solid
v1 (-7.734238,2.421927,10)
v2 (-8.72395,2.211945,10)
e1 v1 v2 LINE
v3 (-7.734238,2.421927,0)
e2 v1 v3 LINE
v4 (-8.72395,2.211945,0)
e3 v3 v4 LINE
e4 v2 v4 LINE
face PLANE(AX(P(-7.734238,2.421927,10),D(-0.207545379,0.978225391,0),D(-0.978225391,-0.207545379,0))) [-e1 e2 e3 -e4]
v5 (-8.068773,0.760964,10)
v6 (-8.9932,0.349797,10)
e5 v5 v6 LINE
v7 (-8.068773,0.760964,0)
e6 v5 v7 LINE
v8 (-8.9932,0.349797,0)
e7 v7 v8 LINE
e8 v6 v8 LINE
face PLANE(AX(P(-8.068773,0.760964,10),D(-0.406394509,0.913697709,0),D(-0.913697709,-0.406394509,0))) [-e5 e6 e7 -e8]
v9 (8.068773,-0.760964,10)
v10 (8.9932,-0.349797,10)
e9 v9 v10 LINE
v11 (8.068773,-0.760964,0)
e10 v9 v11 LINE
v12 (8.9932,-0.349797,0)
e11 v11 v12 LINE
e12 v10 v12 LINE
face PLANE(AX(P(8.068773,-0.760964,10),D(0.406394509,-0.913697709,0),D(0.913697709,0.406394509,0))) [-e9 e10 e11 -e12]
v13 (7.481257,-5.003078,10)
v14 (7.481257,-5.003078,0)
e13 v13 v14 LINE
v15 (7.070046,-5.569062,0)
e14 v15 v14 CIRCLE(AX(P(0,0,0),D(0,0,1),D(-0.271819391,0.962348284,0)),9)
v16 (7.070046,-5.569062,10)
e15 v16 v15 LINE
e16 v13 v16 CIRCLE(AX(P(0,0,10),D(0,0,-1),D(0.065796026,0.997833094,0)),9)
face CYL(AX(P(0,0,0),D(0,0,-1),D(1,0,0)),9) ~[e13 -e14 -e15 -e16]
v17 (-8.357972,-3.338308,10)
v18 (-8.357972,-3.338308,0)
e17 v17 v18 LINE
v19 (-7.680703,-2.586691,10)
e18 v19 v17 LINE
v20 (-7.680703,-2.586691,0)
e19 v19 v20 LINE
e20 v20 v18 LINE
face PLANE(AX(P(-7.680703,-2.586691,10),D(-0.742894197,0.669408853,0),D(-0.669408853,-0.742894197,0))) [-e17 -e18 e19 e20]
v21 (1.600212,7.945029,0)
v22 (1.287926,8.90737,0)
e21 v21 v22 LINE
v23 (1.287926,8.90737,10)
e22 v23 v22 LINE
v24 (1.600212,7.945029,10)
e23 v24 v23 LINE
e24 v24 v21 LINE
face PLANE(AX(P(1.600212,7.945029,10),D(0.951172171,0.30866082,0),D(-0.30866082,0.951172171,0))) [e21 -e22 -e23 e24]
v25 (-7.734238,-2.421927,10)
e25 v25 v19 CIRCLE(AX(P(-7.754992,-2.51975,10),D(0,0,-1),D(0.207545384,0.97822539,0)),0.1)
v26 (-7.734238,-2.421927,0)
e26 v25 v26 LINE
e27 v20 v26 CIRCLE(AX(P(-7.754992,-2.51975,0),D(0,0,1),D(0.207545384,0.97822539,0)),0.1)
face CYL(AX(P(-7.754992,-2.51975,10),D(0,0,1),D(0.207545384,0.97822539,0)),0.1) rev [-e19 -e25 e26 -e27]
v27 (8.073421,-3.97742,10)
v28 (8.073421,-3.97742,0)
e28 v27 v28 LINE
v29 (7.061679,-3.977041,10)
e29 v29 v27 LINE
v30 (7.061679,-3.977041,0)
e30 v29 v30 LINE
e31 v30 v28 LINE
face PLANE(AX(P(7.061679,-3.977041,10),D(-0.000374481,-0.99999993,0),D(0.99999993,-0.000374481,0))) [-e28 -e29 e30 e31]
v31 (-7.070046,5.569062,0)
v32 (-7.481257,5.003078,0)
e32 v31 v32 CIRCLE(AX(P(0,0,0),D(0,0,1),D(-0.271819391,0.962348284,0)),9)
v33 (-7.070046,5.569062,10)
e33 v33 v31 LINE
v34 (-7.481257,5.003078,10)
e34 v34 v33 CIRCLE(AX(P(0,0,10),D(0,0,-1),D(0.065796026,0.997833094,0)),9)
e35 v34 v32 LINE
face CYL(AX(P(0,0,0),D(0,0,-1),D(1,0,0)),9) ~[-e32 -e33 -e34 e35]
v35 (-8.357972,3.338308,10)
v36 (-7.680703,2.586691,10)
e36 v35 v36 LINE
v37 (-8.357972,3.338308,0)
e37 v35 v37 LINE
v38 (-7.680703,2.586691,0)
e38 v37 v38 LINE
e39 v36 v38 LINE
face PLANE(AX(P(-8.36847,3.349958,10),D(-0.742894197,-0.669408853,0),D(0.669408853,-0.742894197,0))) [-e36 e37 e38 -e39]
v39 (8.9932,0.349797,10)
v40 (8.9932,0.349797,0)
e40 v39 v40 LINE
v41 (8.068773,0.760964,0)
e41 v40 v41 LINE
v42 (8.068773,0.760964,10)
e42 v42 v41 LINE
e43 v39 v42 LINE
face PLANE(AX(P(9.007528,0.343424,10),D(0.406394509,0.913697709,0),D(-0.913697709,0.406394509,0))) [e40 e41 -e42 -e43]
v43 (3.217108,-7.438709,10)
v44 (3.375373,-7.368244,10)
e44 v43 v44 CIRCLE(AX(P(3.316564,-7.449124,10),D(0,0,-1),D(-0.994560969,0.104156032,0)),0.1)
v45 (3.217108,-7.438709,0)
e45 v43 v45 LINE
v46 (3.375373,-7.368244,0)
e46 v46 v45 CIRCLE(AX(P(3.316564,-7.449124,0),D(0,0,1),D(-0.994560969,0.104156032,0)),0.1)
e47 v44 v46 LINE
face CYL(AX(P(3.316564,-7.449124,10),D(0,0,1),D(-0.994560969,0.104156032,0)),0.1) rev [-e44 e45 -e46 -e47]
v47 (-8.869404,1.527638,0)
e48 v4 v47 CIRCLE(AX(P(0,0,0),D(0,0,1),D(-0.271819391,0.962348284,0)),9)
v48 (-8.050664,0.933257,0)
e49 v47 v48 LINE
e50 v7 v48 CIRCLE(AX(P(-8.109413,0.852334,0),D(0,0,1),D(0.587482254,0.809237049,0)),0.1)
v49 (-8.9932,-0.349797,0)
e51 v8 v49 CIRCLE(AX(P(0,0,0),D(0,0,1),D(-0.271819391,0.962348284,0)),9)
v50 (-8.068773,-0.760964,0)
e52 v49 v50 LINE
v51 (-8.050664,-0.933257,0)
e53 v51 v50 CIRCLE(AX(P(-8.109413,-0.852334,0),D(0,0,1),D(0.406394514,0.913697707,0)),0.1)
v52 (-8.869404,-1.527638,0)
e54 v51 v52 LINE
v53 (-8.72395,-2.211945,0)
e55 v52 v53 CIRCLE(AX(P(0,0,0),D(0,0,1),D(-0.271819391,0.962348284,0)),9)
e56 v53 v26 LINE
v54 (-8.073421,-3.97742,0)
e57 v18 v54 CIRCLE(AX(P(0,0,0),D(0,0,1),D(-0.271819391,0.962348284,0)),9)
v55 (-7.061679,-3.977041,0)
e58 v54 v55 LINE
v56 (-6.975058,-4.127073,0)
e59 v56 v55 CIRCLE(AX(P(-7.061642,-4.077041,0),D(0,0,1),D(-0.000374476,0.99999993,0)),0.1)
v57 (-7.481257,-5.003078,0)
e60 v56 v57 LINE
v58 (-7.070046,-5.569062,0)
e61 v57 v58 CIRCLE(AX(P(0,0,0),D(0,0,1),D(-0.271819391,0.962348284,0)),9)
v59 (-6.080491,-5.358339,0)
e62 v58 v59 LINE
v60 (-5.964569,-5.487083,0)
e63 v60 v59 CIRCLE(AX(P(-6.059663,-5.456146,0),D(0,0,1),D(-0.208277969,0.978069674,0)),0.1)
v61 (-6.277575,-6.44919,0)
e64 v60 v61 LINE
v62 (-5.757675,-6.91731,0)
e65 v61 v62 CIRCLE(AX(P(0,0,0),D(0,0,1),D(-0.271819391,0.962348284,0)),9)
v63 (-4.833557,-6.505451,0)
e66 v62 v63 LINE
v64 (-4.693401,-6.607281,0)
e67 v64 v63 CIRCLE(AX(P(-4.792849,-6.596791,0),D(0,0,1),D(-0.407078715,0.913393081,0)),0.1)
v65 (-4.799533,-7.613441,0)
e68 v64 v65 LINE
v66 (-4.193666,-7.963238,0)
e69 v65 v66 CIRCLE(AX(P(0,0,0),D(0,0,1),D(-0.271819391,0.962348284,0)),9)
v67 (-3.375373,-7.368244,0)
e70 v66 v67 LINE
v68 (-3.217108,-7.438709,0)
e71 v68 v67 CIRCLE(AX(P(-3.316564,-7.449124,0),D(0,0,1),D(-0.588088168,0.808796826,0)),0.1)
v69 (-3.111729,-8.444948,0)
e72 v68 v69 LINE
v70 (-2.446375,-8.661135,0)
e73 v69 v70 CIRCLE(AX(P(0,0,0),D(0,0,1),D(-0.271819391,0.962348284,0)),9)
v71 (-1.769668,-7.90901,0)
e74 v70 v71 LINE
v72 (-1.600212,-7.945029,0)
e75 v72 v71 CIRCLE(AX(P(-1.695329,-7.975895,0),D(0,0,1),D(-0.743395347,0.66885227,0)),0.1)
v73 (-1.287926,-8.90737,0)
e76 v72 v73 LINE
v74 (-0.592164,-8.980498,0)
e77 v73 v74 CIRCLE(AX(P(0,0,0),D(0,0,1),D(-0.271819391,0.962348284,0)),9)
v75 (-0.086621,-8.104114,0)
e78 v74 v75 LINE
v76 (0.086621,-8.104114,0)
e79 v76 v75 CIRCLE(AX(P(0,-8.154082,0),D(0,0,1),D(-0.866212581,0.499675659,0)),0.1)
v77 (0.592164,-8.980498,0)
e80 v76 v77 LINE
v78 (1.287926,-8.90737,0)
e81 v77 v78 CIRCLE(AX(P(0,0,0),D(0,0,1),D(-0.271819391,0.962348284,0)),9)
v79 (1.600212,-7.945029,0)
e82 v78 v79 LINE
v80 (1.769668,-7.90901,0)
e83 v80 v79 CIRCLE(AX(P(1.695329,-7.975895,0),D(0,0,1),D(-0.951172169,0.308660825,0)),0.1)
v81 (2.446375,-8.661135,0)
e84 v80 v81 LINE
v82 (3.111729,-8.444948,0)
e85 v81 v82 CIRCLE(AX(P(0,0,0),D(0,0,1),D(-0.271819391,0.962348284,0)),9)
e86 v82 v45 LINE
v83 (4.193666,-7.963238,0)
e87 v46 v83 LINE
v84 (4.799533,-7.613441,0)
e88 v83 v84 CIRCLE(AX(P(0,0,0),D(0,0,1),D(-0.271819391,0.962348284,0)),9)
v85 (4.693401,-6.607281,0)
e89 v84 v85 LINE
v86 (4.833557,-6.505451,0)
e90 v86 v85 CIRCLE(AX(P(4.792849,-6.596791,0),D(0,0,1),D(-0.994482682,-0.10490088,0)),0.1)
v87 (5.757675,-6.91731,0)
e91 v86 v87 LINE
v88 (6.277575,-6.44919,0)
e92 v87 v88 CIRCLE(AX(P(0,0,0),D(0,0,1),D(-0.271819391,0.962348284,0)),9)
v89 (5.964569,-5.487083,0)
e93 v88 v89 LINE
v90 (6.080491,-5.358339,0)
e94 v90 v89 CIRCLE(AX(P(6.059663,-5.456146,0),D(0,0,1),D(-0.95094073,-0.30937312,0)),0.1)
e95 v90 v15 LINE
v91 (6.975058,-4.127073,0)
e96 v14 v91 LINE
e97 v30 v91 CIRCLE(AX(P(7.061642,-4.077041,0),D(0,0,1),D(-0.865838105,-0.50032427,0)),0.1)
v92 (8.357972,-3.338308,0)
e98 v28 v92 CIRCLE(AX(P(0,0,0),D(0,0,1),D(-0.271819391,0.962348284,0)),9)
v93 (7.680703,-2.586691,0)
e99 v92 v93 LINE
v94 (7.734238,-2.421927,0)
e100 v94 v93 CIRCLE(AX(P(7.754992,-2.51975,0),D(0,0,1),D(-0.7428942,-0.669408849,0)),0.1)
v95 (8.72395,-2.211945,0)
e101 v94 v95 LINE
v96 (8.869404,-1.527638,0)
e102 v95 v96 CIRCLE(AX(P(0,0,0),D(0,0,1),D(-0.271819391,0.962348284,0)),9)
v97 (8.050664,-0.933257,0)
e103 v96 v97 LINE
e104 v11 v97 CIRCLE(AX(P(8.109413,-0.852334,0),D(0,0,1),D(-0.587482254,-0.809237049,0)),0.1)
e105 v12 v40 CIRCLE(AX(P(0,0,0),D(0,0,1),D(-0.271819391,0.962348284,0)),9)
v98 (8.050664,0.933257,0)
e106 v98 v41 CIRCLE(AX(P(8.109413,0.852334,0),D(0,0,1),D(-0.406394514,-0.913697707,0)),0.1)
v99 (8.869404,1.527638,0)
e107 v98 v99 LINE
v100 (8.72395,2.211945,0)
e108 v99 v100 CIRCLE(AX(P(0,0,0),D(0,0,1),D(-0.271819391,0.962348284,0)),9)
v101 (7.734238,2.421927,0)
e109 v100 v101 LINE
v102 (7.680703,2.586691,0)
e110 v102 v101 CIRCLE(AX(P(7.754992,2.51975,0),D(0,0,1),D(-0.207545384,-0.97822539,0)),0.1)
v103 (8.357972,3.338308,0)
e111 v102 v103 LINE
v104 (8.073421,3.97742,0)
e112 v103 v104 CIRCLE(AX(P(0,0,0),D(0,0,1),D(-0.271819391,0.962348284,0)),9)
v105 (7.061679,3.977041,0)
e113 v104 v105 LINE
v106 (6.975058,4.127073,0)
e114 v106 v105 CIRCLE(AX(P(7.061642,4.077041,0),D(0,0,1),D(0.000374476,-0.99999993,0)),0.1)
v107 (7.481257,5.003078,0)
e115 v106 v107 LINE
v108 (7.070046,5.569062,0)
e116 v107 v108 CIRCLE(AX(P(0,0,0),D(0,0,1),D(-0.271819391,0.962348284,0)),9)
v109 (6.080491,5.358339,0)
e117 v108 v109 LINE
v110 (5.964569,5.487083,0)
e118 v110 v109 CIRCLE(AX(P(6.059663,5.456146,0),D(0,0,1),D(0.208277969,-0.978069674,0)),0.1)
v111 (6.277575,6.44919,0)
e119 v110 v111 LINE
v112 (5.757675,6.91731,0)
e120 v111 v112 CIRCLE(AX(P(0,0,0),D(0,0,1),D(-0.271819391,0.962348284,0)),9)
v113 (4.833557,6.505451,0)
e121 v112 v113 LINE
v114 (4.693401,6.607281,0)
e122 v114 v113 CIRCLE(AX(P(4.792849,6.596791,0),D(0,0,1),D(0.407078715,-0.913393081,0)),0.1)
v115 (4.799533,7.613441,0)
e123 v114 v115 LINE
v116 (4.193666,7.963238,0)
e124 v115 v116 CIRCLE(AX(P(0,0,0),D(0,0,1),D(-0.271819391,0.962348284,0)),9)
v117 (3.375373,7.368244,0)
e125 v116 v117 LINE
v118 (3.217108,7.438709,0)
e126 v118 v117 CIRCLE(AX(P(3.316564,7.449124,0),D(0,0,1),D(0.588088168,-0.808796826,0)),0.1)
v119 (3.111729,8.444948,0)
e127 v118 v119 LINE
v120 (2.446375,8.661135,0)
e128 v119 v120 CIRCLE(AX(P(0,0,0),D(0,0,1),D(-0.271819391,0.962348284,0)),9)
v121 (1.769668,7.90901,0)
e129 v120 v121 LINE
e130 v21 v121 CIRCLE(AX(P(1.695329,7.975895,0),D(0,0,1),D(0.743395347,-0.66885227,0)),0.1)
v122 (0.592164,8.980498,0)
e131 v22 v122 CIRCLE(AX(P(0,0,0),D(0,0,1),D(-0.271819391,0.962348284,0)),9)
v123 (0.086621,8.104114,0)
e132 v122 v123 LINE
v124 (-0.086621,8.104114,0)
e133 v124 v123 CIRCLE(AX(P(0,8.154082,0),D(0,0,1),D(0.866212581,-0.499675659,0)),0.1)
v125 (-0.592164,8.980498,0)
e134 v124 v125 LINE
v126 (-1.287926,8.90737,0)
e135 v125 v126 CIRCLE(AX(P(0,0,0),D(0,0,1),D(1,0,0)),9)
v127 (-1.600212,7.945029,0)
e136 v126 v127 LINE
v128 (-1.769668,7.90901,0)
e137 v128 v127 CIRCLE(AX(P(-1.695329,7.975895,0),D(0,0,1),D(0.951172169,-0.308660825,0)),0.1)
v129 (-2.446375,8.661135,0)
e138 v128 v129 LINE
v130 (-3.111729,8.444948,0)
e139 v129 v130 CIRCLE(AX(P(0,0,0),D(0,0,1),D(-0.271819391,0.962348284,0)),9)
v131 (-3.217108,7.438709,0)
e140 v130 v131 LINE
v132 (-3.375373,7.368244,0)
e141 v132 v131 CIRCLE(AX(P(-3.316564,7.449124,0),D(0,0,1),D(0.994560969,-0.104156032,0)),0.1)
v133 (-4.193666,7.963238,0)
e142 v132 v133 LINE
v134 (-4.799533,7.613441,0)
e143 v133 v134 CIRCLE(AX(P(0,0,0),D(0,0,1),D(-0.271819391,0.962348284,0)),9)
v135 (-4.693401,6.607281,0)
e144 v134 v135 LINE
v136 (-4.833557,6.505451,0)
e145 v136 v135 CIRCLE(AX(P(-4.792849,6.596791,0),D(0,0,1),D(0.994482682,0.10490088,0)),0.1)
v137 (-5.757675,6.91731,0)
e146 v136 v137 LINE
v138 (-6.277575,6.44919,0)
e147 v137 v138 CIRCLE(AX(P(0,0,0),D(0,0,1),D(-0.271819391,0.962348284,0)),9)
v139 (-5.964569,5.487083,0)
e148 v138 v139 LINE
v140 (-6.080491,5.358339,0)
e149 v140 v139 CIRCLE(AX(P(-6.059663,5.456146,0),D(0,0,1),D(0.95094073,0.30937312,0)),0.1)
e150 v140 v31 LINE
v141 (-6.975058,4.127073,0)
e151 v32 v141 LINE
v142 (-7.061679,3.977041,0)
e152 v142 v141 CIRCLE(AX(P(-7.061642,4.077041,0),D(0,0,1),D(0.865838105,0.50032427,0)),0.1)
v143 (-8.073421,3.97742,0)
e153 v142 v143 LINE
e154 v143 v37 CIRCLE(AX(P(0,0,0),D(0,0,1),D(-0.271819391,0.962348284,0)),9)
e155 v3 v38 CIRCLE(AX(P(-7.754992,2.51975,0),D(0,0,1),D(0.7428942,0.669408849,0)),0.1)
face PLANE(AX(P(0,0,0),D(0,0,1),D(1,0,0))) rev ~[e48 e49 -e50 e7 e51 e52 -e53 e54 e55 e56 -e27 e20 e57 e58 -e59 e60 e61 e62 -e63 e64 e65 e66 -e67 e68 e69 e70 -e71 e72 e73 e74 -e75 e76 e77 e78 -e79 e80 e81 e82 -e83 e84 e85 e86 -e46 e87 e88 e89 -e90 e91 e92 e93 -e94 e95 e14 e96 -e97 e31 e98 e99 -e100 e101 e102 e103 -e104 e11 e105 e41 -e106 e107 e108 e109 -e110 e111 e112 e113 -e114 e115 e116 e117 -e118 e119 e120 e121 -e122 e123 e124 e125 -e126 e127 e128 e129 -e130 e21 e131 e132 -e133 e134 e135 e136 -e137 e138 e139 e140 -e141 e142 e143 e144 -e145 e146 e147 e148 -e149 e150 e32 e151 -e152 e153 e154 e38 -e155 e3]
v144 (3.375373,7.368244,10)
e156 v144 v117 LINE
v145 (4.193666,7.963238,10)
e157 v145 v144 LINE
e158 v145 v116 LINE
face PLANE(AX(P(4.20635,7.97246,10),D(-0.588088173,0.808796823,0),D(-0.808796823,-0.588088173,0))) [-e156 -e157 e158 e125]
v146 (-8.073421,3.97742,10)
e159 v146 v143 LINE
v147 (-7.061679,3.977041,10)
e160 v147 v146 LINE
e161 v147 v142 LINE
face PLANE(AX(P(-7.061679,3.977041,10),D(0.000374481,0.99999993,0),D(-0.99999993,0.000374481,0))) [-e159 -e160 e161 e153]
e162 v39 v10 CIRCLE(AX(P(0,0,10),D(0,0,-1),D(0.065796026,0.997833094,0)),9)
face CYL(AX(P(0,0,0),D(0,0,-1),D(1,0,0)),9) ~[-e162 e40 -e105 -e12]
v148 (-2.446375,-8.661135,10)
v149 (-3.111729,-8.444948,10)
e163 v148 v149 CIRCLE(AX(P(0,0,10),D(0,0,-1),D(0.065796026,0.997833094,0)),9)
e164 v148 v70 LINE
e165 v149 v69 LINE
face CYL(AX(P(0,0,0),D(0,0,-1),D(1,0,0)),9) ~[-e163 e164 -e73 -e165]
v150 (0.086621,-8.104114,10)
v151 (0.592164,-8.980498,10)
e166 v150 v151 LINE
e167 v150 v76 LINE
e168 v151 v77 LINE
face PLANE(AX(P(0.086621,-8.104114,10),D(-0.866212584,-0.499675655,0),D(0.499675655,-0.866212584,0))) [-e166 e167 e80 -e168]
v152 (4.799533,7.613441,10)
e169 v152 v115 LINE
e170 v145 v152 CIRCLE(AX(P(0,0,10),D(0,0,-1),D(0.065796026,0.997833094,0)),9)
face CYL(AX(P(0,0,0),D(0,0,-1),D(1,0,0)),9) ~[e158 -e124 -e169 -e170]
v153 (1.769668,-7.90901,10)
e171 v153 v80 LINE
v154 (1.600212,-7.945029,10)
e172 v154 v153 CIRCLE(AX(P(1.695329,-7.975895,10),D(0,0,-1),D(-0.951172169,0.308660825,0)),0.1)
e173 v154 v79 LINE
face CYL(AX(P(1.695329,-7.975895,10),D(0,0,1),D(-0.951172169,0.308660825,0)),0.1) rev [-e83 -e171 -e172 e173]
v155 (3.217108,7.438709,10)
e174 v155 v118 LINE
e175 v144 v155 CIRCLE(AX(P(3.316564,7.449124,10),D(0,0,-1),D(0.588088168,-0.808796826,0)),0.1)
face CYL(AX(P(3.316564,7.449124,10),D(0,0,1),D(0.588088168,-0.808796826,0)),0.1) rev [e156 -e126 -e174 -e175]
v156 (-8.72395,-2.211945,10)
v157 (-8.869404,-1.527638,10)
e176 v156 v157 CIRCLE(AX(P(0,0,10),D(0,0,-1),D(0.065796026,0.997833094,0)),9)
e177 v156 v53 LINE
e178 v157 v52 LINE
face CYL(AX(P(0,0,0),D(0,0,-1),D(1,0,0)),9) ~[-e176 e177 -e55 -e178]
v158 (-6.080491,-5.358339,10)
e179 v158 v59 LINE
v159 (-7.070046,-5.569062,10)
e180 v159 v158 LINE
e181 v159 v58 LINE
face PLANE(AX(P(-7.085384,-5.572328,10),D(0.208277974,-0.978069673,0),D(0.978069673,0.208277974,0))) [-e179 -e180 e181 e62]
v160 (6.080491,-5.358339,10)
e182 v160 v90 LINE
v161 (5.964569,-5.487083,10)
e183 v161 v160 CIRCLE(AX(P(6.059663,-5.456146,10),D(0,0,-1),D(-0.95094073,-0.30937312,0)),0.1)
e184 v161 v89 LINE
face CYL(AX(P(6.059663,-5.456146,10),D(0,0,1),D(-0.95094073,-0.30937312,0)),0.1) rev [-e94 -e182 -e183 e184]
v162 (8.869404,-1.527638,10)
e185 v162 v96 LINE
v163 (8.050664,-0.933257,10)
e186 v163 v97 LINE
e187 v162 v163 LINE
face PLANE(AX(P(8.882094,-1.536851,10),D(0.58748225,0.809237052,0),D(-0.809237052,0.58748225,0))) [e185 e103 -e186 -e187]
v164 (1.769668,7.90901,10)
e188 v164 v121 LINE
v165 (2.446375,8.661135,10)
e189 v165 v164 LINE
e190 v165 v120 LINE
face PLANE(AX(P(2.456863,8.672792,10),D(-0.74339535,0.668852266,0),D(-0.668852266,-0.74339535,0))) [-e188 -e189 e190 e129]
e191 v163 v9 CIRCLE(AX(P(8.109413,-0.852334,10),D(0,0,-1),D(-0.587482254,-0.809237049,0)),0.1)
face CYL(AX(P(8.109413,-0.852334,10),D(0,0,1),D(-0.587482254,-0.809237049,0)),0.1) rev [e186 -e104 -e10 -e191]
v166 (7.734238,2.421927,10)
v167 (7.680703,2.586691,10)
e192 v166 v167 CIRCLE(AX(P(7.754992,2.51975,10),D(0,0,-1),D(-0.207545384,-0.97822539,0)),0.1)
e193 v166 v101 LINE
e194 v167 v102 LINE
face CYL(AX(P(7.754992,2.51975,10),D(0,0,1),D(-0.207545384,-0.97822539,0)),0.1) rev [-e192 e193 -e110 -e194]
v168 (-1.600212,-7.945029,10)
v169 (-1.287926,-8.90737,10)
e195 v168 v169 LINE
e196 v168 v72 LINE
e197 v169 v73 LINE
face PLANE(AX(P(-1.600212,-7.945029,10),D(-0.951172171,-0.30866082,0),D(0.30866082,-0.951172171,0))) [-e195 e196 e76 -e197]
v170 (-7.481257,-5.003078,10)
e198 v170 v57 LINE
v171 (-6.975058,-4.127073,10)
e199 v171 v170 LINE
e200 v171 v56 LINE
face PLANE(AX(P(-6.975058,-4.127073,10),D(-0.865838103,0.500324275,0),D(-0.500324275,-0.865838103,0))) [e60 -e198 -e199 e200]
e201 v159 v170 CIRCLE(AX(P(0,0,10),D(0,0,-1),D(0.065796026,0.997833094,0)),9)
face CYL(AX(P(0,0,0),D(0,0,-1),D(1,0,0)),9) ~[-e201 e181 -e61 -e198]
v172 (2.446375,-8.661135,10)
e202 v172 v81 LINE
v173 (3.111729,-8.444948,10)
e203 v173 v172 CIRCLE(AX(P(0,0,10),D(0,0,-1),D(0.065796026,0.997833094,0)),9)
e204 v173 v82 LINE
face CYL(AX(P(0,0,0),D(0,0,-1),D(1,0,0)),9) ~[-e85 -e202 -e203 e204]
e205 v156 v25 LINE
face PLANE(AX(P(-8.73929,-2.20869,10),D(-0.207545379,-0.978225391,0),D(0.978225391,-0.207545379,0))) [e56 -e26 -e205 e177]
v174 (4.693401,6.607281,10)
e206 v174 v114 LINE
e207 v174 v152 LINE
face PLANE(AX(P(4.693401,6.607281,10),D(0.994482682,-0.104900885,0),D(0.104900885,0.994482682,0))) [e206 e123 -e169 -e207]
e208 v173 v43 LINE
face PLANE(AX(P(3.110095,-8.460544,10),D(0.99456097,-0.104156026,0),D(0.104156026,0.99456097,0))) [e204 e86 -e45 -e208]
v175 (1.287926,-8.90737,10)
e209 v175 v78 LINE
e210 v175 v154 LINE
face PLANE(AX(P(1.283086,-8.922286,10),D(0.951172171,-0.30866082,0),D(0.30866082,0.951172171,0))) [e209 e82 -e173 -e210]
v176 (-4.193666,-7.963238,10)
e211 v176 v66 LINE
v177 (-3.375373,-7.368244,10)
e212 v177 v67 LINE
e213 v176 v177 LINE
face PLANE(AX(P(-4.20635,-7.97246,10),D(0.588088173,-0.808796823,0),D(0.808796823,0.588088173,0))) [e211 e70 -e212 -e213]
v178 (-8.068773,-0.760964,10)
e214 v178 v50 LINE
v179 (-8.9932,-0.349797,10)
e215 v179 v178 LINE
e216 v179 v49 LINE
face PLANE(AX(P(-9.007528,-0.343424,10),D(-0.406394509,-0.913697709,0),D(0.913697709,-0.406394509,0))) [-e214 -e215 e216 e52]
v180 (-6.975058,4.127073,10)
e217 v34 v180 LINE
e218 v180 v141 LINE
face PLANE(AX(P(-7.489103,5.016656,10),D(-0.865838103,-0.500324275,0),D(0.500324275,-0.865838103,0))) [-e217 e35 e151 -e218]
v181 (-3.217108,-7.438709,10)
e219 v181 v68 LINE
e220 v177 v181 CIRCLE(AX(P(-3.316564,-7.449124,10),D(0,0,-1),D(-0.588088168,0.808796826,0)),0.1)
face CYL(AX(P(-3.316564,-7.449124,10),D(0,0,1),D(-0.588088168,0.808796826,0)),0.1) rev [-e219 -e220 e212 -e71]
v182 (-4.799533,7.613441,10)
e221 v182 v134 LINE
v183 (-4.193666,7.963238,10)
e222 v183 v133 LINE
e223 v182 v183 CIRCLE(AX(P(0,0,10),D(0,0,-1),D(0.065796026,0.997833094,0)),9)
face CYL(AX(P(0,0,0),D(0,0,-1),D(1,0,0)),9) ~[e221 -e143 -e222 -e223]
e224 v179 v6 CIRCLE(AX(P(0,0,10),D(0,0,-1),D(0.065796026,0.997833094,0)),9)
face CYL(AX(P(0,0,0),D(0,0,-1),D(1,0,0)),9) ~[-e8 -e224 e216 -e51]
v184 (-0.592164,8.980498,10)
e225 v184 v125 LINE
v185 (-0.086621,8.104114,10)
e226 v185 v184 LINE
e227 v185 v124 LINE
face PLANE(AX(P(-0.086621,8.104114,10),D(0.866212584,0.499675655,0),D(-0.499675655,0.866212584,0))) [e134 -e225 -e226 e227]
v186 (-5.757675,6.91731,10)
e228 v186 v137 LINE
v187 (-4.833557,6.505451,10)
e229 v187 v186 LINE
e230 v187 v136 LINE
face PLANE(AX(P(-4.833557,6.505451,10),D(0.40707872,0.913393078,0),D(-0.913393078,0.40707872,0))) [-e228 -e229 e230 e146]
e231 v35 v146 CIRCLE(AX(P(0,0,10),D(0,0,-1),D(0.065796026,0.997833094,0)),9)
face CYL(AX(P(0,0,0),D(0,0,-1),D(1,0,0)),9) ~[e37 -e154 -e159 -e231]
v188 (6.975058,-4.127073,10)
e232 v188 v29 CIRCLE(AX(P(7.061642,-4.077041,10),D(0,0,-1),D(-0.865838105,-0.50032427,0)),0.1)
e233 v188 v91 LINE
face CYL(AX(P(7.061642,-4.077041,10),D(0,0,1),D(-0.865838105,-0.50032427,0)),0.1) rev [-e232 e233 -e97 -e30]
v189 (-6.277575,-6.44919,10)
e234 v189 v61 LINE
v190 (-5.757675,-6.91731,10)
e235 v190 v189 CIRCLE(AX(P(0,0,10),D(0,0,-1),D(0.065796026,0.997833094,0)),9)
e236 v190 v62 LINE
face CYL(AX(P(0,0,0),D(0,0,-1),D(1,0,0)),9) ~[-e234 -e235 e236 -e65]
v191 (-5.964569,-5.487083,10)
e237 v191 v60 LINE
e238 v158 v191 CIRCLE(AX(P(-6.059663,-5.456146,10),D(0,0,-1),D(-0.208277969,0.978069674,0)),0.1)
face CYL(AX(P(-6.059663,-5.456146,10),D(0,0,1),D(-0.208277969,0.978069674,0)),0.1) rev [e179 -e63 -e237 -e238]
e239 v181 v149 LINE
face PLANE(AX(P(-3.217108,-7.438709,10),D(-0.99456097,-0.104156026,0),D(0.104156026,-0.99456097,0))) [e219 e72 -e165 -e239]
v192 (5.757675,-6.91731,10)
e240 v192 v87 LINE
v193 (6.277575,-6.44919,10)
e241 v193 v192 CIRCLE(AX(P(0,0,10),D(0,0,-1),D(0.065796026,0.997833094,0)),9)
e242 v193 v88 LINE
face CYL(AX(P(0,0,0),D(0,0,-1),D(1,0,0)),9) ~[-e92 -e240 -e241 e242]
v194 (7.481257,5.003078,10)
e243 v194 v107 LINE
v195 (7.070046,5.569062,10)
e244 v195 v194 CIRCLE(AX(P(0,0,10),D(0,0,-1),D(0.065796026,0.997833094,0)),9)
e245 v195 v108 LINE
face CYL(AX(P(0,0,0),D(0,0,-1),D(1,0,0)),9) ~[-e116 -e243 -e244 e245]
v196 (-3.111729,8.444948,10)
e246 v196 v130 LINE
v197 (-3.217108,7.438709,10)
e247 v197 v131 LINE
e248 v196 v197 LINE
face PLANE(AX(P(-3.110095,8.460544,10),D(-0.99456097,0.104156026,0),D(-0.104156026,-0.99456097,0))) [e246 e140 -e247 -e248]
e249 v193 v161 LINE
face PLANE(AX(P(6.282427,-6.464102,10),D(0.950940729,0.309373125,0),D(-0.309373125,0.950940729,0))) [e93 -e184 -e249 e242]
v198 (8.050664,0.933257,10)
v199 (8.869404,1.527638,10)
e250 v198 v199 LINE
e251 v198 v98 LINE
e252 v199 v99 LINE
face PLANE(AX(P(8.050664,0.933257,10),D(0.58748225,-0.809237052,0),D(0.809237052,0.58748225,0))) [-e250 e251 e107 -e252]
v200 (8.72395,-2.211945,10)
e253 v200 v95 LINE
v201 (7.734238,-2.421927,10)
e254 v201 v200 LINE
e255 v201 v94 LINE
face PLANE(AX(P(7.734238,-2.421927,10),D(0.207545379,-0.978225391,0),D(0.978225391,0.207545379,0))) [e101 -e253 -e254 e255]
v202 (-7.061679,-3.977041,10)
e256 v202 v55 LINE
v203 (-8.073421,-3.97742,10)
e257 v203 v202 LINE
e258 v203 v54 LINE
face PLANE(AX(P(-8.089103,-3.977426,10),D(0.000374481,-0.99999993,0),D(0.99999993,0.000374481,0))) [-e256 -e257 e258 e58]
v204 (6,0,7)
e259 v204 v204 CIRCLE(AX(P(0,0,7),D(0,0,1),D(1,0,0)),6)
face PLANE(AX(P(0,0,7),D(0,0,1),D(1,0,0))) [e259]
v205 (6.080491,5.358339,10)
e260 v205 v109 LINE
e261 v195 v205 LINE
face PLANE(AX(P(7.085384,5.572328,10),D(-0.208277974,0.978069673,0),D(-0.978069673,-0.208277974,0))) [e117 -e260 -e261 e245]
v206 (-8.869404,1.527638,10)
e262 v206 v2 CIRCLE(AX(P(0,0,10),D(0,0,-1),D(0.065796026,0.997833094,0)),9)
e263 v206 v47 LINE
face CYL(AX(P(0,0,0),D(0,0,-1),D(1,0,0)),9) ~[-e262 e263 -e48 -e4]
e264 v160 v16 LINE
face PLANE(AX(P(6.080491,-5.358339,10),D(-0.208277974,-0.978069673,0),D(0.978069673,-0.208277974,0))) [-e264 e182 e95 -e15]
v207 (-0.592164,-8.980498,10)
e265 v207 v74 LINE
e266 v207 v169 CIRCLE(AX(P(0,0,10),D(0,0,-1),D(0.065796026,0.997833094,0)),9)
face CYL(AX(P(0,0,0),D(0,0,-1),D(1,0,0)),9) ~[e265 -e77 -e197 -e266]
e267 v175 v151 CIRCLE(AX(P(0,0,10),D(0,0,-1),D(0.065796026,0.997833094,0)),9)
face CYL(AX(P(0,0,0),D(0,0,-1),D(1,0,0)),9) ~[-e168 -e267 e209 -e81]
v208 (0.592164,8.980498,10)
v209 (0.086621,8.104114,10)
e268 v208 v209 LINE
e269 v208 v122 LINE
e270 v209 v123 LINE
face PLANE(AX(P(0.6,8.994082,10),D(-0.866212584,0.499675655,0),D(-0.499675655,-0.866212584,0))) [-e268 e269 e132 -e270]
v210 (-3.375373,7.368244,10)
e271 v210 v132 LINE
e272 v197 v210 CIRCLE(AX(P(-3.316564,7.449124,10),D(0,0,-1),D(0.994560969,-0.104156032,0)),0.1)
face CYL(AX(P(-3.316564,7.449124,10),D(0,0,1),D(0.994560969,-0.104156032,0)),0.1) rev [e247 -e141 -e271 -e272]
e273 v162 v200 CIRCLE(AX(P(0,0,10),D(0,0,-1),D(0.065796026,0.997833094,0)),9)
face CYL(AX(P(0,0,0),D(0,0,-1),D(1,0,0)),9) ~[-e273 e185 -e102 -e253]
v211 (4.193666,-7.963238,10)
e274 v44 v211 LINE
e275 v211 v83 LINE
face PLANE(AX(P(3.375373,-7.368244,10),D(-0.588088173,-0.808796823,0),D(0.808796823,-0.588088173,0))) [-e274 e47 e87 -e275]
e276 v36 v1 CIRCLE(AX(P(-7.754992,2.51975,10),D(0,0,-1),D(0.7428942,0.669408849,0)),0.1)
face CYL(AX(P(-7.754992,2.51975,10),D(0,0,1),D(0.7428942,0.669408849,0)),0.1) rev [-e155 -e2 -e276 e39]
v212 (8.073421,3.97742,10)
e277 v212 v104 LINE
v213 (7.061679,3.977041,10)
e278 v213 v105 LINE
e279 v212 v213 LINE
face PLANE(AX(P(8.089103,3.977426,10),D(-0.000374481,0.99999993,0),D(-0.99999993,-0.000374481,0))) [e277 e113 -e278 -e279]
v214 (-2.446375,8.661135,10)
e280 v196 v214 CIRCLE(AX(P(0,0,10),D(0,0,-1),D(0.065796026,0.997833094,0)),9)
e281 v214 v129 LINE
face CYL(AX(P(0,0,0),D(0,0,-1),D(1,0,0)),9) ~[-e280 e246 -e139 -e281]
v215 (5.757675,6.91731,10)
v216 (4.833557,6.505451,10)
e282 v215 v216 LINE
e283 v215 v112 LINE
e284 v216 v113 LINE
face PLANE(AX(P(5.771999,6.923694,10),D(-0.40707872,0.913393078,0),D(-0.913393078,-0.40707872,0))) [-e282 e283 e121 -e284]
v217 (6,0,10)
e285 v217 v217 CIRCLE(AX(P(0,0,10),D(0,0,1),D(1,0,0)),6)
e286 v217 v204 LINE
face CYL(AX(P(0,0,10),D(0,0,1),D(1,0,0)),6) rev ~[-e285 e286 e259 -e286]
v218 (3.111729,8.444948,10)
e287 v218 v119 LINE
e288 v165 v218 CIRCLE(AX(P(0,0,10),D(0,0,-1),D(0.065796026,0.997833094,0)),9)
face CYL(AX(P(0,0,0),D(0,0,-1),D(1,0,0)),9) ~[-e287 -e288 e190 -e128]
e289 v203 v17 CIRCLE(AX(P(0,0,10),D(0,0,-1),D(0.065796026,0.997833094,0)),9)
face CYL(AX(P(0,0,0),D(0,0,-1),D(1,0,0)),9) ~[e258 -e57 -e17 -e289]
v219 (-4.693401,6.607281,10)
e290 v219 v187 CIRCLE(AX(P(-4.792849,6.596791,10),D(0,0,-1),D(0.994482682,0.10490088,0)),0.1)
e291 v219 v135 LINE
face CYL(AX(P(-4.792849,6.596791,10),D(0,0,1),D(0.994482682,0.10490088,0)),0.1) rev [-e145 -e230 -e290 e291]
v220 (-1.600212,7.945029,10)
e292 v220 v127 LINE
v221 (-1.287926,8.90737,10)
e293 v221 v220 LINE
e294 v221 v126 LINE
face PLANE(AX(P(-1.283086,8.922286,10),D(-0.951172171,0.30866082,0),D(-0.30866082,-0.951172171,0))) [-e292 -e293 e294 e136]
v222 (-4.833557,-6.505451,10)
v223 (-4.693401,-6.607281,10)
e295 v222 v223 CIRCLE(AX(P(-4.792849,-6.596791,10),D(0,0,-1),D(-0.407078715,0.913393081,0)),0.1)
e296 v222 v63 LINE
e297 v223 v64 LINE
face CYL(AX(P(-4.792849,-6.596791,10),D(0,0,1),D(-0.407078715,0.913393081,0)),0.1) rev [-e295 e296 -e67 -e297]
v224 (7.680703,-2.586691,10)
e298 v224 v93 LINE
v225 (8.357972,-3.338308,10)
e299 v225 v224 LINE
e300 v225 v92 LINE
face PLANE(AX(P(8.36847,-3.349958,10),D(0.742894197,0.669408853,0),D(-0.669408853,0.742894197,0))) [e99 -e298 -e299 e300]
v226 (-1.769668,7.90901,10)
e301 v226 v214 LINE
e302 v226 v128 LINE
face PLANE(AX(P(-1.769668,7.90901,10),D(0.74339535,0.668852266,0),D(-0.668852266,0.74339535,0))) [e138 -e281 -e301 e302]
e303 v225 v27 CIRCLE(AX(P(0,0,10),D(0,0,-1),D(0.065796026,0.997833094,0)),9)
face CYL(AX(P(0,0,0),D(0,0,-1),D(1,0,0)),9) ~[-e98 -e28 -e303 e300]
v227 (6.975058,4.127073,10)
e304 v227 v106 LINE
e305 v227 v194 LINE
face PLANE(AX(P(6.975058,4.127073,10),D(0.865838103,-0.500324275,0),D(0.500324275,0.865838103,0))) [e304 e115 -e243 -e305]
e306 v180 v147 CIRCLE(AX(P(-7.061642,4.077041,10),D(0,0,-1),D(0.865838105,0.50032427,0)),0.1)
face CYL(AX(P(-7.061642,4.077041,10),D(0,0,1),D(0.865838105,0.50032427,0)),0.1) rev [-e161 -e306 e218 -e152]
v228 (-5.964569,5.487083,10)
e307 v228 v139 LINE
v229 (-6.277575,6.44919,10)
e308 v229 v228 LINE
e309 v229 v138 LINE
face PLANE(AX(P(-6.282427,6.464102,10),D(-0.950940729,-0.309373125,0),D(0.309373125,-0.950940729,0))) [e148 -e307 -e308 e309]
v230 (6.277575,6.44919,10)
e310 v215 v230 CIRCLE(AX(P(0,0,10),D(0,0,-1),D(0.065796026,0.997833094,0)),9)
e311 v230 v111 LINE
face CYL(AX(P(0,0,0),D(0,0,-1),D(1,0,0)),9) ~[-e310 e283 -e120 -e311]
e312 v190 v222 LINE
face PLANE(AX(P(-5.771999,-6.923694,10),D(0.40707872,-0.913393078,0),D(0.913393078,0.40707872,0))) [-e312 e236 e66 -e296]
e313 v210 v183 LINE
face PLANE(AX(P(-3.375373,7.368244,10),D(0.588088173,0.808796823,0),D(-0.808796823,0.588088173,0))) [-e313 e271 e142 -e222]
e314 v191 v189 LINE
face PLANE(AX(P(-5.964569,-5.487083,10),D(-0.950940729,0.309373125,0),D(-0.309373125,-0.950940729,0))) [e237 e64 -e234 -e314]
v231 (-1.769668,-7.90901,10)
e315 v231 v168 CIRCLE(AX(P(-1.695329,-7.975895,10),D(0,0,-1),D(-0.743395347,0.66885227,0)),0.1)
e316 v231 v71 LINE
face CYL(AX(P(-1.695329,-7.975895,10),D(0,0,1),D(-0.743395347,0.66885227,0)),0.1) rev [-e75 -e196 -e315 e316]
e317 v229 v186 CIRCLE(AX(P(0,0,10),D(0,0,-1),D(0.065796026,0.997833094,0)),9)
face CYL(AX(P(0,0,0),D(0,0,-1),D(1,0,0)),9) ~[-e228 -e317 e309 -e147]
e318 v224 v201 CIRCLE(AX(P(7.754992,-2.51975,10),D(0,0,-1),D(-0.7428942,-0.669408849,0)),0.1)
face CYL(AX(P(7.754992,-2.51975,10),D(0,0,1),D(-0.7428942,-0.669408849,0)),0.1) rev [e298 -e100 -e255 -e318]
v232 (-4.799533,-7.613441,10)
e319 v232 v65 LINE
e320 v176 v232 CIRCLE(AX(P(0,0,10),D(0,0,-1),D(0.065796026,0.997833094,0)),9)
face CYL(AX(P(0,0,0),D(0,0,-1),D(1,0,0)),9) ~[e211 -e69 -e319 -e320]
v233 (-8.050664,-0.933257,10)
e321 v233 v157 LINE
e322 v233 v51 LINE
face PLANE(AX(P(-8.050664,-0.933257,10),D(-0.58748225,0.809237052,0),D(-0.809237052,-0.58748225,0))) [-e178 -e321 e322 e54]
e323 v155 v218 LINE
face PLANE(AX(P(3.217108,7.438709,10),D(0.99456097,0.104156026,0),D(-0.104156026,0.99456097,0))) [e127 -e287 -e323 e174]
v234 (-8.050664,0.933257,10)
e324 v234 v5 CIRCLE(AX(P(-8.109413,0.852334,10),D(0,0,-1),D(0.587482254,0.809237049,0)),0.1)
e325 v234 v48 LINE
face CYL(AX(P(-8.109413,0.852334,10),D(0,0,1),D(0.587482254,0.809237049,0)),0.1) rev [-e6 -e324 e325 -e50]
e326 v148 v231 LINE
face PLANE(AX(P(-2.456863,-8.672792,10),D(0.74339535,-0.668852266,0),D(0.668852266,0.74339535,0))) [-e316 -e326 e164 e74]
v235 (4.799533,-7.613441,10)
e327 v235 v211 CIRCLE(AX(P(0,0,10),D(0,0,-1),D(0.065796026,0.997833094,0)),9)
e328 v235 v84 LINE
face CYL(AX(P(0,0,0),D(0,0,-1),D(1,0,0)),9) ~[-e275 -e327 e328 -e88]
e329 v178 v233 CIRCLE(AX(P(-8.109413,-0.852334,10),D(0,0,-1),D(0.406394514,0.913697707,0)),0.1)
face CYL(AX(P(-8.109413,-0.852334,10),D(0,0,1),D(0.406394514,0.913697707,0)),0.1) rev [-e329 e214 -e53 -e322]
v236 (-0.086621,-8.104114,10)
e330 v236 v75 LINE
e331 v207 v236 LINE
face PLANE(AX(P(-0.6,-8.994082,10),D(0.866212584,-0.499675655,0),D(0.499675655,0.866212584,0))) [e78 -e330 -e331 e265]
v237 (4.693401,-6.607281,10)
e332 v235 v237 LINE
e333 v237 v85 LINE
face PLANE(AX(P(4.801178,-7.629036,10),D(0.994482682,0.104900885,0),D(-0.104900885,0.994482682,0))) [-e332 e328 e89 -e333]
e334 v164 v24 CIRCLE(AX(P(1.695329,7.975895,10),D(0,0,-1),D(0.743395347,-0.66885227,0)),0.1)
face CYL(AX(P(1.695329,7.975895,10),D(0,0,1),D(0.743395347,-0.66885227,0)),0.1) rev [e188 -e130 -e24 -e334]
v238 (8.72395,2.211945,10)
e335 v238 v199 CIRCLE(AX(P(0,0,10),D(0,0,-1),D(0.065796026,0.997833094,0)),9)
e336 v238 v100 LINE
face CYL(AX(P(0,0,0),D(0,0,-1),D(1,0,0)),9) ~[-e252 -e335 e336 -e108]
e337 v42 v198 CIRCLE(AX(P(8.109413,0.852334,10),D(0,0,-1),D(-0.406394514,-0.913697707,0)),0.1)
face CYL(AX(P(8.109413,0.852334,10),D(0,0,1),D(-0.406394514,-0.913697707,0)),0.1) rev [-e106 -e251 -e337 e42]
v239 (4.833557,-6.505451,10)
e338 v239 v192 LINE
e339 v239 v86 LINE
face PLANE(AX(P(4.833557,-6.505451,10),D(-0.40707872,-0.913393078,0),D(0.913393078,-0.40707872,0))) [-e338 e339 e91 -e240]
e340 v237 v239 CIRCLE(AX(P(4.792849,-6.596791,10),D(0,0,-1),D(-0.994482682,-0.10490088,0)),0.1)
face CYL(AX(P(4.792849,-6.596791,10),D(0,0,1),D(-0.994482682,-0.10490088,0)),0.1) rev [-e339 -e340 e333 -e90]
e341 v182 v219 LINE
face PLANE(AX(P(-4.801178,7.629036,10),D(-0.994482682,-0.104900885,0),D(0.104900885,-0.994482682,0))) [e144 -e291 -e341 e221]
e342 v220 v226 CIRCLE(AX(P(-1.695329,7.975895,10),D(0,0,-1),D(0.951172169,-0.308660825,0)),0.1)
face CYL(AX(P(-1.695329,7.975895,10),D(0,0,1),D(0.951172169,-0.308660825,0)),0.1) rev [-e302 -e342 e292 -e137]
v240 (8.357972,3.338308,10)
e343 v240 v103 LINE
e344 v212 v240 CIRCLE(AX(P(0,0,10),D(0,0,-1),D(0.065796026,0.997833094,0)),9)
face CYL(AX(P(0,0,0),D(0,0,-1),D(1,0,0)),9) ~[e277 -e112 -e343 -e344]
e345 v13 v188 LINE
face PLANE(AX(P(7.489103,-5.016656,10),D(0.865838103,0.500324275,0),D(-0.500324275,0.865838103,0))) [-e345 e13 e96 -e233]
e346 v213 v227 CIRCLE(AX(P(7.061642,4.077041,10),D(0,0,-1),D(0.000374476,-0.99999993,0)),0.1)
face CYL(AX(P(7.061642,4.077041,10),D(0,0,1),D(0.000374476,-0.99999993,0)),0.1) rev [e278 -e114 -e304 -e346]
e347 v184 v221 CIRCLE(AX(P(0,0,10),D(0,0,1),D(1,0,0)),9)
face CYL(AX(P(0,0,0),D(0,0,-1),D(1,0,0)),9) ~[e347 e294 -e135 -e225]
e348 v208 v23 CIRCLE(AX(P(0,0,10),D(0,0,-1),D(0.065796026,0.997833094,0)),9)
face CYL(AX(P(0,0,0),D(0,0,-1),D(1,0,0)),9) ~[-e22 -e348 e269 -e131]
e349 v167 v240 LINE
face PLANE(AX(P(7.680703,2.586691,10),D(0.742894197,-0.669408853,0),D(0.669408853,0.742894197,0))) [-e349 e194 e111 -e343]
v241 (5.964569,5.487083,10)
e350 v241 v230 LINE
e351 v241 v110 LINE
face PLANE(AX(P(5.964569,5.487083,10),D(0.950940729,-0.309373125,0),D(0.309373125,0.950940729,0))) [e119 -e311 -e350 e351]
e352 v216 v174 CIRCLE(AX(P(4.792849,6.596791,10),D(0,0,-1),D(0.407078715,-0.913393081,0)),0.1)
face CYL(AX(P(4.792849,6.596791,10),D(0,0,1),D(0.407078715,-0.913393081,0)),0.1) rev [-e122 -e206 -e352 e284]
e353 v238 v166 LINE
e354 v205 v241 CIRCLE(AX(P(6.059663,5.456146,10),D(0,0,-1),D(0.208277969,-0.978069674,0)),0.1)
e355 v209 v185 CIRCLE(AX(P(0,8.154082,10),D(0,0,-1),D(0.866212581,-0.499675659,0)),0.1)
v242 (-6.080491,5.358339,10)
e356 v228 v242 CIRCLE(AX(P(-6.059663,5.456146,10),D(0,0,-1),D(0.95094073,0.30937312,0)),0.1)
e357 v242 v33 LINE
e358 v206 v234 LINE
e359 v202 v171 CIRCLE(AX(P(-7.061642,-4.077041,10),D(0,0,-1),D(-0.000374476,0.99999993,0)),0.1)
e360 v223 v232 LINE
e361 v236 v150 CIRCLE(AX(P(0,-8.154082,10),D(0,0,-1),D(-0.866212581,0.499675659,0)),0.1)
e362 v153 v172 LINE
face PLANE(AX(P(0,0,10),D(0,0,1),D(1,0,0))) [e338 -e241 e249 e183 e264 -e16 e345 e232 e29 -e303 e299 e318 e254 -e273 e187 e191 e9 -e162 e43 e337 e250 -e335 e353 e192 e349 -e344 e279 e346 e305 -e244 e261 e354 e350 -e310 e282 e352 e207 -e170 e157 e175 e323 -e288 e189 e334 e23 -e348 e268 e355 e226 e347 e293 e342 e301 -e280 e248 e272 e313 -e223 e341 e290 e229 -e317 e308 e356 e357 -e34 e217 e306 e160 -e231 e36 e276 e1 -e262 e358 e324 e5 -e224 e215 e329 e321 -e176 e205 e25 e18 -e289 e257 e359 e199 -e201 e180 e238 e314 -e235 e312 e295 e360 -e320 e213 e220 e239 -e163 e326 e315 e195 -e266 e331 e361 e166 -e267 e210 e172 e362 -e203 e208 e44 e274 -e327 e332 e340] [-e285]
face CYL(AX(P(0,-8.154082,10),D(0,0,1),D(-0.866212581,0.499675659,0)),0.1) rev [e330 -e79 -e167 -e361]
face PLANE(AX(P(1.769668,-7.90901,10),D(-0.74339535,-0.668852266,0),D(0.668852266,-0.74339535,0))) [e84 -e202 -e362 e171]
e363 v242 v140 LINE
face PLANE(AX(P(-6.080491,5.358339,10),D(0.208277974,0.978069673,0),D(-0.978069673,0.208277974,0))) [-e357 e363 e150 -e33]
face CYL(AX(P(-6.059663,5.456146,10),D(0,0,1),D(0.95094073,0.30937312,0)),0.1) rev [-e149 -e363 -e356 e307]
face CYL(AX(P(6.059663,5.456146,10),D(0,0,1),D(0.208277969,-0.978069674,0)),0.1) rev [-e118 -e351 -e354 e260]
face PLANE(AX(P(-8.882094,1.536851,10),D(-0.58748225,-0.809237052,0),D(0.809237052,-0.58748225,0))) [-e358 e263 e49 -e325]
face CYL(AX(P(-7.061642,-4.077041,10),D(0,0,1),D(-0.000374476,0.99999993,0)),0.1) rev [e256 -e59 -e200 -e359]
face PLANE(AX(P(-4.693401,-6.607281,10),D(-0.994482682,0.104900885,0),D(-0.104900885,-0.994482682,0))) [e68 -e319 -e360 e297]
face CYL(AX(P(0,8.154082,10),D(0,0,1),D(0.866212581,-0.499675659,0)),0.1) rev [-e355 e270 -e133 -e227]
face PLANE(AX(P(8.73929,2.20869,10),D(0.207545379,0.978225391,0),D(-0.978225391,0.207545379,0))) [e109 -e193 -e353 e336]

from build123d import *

# Parameters (mm, degrees)
SKETCH1_R           = 9
BOSS_EXTRUDE1_DEPTH = 10
SKETCH2_R           = 6
CUT_EXTRUDE1_DEPTH  = 3
CUT_EXTRUDE2_DEPTH  = 17.186414056
CIRPATTERN1_COUNT   = 30


with BuildPart() as part:
    # Sketch1 → Boss-Extrude1 (new body)
    with BuildSketch(Plane.XY):
        Circle(SKETCH1_R)
    extrude(amount=BOSS_EXTRUDE1_DEPTH)

    # Sketch2 → Cut-Extrude1 (cut)
    with BuildSketch(Plane.XY.offset(10)):
        Circle(SKETCH2_R)
    extrude(amount=-CUT_EXTRUDE1_DEPTH, mode=Mode.SUBTRACT)

    # Sketch3 → Cut-Extrude2 (cut, through all)
    with BuildSketch(Plane.XY.offset(10)):
        with BuildLine():
            Line((-1.633345226, 10.785436843), (1.633345226, 10.785436843))
            Line((1.633345226, 10.785436843), (0.6, 8.994081534))
            Line((0.6, 8.994081534), (0.086621258, 8.104113968))
            ThreePointArc((0.086621258, 8.104113968), (0, 8.054081534), (-0.086621258, 8.104113968))
            Line((-0.086621258, 8.104113968), (-0.6, 8.994081534))
            Line((-0.6, 8.994081534), (-1.633345226, 10.785436843))
        make_face()
    cut_extrude2 = extrude(amount=-CUT_EXTRUDE2_DEPTH, mode=Mode.SUBTRACT)

    # CirPattern1: Cut-Extrude2 ×30 about axis
    cirpattern1_axis = Axis((0, 0, 0), (0, 0, 1))
    for i in range(1, CIRPATTERN1_COUNT):
        add(cut_extrude2.rotate(cirpattern1_axis, i * 360 / CIRPATTERN1_COUNT), mode=Mode.SUBTRACT)


solid = part.part
